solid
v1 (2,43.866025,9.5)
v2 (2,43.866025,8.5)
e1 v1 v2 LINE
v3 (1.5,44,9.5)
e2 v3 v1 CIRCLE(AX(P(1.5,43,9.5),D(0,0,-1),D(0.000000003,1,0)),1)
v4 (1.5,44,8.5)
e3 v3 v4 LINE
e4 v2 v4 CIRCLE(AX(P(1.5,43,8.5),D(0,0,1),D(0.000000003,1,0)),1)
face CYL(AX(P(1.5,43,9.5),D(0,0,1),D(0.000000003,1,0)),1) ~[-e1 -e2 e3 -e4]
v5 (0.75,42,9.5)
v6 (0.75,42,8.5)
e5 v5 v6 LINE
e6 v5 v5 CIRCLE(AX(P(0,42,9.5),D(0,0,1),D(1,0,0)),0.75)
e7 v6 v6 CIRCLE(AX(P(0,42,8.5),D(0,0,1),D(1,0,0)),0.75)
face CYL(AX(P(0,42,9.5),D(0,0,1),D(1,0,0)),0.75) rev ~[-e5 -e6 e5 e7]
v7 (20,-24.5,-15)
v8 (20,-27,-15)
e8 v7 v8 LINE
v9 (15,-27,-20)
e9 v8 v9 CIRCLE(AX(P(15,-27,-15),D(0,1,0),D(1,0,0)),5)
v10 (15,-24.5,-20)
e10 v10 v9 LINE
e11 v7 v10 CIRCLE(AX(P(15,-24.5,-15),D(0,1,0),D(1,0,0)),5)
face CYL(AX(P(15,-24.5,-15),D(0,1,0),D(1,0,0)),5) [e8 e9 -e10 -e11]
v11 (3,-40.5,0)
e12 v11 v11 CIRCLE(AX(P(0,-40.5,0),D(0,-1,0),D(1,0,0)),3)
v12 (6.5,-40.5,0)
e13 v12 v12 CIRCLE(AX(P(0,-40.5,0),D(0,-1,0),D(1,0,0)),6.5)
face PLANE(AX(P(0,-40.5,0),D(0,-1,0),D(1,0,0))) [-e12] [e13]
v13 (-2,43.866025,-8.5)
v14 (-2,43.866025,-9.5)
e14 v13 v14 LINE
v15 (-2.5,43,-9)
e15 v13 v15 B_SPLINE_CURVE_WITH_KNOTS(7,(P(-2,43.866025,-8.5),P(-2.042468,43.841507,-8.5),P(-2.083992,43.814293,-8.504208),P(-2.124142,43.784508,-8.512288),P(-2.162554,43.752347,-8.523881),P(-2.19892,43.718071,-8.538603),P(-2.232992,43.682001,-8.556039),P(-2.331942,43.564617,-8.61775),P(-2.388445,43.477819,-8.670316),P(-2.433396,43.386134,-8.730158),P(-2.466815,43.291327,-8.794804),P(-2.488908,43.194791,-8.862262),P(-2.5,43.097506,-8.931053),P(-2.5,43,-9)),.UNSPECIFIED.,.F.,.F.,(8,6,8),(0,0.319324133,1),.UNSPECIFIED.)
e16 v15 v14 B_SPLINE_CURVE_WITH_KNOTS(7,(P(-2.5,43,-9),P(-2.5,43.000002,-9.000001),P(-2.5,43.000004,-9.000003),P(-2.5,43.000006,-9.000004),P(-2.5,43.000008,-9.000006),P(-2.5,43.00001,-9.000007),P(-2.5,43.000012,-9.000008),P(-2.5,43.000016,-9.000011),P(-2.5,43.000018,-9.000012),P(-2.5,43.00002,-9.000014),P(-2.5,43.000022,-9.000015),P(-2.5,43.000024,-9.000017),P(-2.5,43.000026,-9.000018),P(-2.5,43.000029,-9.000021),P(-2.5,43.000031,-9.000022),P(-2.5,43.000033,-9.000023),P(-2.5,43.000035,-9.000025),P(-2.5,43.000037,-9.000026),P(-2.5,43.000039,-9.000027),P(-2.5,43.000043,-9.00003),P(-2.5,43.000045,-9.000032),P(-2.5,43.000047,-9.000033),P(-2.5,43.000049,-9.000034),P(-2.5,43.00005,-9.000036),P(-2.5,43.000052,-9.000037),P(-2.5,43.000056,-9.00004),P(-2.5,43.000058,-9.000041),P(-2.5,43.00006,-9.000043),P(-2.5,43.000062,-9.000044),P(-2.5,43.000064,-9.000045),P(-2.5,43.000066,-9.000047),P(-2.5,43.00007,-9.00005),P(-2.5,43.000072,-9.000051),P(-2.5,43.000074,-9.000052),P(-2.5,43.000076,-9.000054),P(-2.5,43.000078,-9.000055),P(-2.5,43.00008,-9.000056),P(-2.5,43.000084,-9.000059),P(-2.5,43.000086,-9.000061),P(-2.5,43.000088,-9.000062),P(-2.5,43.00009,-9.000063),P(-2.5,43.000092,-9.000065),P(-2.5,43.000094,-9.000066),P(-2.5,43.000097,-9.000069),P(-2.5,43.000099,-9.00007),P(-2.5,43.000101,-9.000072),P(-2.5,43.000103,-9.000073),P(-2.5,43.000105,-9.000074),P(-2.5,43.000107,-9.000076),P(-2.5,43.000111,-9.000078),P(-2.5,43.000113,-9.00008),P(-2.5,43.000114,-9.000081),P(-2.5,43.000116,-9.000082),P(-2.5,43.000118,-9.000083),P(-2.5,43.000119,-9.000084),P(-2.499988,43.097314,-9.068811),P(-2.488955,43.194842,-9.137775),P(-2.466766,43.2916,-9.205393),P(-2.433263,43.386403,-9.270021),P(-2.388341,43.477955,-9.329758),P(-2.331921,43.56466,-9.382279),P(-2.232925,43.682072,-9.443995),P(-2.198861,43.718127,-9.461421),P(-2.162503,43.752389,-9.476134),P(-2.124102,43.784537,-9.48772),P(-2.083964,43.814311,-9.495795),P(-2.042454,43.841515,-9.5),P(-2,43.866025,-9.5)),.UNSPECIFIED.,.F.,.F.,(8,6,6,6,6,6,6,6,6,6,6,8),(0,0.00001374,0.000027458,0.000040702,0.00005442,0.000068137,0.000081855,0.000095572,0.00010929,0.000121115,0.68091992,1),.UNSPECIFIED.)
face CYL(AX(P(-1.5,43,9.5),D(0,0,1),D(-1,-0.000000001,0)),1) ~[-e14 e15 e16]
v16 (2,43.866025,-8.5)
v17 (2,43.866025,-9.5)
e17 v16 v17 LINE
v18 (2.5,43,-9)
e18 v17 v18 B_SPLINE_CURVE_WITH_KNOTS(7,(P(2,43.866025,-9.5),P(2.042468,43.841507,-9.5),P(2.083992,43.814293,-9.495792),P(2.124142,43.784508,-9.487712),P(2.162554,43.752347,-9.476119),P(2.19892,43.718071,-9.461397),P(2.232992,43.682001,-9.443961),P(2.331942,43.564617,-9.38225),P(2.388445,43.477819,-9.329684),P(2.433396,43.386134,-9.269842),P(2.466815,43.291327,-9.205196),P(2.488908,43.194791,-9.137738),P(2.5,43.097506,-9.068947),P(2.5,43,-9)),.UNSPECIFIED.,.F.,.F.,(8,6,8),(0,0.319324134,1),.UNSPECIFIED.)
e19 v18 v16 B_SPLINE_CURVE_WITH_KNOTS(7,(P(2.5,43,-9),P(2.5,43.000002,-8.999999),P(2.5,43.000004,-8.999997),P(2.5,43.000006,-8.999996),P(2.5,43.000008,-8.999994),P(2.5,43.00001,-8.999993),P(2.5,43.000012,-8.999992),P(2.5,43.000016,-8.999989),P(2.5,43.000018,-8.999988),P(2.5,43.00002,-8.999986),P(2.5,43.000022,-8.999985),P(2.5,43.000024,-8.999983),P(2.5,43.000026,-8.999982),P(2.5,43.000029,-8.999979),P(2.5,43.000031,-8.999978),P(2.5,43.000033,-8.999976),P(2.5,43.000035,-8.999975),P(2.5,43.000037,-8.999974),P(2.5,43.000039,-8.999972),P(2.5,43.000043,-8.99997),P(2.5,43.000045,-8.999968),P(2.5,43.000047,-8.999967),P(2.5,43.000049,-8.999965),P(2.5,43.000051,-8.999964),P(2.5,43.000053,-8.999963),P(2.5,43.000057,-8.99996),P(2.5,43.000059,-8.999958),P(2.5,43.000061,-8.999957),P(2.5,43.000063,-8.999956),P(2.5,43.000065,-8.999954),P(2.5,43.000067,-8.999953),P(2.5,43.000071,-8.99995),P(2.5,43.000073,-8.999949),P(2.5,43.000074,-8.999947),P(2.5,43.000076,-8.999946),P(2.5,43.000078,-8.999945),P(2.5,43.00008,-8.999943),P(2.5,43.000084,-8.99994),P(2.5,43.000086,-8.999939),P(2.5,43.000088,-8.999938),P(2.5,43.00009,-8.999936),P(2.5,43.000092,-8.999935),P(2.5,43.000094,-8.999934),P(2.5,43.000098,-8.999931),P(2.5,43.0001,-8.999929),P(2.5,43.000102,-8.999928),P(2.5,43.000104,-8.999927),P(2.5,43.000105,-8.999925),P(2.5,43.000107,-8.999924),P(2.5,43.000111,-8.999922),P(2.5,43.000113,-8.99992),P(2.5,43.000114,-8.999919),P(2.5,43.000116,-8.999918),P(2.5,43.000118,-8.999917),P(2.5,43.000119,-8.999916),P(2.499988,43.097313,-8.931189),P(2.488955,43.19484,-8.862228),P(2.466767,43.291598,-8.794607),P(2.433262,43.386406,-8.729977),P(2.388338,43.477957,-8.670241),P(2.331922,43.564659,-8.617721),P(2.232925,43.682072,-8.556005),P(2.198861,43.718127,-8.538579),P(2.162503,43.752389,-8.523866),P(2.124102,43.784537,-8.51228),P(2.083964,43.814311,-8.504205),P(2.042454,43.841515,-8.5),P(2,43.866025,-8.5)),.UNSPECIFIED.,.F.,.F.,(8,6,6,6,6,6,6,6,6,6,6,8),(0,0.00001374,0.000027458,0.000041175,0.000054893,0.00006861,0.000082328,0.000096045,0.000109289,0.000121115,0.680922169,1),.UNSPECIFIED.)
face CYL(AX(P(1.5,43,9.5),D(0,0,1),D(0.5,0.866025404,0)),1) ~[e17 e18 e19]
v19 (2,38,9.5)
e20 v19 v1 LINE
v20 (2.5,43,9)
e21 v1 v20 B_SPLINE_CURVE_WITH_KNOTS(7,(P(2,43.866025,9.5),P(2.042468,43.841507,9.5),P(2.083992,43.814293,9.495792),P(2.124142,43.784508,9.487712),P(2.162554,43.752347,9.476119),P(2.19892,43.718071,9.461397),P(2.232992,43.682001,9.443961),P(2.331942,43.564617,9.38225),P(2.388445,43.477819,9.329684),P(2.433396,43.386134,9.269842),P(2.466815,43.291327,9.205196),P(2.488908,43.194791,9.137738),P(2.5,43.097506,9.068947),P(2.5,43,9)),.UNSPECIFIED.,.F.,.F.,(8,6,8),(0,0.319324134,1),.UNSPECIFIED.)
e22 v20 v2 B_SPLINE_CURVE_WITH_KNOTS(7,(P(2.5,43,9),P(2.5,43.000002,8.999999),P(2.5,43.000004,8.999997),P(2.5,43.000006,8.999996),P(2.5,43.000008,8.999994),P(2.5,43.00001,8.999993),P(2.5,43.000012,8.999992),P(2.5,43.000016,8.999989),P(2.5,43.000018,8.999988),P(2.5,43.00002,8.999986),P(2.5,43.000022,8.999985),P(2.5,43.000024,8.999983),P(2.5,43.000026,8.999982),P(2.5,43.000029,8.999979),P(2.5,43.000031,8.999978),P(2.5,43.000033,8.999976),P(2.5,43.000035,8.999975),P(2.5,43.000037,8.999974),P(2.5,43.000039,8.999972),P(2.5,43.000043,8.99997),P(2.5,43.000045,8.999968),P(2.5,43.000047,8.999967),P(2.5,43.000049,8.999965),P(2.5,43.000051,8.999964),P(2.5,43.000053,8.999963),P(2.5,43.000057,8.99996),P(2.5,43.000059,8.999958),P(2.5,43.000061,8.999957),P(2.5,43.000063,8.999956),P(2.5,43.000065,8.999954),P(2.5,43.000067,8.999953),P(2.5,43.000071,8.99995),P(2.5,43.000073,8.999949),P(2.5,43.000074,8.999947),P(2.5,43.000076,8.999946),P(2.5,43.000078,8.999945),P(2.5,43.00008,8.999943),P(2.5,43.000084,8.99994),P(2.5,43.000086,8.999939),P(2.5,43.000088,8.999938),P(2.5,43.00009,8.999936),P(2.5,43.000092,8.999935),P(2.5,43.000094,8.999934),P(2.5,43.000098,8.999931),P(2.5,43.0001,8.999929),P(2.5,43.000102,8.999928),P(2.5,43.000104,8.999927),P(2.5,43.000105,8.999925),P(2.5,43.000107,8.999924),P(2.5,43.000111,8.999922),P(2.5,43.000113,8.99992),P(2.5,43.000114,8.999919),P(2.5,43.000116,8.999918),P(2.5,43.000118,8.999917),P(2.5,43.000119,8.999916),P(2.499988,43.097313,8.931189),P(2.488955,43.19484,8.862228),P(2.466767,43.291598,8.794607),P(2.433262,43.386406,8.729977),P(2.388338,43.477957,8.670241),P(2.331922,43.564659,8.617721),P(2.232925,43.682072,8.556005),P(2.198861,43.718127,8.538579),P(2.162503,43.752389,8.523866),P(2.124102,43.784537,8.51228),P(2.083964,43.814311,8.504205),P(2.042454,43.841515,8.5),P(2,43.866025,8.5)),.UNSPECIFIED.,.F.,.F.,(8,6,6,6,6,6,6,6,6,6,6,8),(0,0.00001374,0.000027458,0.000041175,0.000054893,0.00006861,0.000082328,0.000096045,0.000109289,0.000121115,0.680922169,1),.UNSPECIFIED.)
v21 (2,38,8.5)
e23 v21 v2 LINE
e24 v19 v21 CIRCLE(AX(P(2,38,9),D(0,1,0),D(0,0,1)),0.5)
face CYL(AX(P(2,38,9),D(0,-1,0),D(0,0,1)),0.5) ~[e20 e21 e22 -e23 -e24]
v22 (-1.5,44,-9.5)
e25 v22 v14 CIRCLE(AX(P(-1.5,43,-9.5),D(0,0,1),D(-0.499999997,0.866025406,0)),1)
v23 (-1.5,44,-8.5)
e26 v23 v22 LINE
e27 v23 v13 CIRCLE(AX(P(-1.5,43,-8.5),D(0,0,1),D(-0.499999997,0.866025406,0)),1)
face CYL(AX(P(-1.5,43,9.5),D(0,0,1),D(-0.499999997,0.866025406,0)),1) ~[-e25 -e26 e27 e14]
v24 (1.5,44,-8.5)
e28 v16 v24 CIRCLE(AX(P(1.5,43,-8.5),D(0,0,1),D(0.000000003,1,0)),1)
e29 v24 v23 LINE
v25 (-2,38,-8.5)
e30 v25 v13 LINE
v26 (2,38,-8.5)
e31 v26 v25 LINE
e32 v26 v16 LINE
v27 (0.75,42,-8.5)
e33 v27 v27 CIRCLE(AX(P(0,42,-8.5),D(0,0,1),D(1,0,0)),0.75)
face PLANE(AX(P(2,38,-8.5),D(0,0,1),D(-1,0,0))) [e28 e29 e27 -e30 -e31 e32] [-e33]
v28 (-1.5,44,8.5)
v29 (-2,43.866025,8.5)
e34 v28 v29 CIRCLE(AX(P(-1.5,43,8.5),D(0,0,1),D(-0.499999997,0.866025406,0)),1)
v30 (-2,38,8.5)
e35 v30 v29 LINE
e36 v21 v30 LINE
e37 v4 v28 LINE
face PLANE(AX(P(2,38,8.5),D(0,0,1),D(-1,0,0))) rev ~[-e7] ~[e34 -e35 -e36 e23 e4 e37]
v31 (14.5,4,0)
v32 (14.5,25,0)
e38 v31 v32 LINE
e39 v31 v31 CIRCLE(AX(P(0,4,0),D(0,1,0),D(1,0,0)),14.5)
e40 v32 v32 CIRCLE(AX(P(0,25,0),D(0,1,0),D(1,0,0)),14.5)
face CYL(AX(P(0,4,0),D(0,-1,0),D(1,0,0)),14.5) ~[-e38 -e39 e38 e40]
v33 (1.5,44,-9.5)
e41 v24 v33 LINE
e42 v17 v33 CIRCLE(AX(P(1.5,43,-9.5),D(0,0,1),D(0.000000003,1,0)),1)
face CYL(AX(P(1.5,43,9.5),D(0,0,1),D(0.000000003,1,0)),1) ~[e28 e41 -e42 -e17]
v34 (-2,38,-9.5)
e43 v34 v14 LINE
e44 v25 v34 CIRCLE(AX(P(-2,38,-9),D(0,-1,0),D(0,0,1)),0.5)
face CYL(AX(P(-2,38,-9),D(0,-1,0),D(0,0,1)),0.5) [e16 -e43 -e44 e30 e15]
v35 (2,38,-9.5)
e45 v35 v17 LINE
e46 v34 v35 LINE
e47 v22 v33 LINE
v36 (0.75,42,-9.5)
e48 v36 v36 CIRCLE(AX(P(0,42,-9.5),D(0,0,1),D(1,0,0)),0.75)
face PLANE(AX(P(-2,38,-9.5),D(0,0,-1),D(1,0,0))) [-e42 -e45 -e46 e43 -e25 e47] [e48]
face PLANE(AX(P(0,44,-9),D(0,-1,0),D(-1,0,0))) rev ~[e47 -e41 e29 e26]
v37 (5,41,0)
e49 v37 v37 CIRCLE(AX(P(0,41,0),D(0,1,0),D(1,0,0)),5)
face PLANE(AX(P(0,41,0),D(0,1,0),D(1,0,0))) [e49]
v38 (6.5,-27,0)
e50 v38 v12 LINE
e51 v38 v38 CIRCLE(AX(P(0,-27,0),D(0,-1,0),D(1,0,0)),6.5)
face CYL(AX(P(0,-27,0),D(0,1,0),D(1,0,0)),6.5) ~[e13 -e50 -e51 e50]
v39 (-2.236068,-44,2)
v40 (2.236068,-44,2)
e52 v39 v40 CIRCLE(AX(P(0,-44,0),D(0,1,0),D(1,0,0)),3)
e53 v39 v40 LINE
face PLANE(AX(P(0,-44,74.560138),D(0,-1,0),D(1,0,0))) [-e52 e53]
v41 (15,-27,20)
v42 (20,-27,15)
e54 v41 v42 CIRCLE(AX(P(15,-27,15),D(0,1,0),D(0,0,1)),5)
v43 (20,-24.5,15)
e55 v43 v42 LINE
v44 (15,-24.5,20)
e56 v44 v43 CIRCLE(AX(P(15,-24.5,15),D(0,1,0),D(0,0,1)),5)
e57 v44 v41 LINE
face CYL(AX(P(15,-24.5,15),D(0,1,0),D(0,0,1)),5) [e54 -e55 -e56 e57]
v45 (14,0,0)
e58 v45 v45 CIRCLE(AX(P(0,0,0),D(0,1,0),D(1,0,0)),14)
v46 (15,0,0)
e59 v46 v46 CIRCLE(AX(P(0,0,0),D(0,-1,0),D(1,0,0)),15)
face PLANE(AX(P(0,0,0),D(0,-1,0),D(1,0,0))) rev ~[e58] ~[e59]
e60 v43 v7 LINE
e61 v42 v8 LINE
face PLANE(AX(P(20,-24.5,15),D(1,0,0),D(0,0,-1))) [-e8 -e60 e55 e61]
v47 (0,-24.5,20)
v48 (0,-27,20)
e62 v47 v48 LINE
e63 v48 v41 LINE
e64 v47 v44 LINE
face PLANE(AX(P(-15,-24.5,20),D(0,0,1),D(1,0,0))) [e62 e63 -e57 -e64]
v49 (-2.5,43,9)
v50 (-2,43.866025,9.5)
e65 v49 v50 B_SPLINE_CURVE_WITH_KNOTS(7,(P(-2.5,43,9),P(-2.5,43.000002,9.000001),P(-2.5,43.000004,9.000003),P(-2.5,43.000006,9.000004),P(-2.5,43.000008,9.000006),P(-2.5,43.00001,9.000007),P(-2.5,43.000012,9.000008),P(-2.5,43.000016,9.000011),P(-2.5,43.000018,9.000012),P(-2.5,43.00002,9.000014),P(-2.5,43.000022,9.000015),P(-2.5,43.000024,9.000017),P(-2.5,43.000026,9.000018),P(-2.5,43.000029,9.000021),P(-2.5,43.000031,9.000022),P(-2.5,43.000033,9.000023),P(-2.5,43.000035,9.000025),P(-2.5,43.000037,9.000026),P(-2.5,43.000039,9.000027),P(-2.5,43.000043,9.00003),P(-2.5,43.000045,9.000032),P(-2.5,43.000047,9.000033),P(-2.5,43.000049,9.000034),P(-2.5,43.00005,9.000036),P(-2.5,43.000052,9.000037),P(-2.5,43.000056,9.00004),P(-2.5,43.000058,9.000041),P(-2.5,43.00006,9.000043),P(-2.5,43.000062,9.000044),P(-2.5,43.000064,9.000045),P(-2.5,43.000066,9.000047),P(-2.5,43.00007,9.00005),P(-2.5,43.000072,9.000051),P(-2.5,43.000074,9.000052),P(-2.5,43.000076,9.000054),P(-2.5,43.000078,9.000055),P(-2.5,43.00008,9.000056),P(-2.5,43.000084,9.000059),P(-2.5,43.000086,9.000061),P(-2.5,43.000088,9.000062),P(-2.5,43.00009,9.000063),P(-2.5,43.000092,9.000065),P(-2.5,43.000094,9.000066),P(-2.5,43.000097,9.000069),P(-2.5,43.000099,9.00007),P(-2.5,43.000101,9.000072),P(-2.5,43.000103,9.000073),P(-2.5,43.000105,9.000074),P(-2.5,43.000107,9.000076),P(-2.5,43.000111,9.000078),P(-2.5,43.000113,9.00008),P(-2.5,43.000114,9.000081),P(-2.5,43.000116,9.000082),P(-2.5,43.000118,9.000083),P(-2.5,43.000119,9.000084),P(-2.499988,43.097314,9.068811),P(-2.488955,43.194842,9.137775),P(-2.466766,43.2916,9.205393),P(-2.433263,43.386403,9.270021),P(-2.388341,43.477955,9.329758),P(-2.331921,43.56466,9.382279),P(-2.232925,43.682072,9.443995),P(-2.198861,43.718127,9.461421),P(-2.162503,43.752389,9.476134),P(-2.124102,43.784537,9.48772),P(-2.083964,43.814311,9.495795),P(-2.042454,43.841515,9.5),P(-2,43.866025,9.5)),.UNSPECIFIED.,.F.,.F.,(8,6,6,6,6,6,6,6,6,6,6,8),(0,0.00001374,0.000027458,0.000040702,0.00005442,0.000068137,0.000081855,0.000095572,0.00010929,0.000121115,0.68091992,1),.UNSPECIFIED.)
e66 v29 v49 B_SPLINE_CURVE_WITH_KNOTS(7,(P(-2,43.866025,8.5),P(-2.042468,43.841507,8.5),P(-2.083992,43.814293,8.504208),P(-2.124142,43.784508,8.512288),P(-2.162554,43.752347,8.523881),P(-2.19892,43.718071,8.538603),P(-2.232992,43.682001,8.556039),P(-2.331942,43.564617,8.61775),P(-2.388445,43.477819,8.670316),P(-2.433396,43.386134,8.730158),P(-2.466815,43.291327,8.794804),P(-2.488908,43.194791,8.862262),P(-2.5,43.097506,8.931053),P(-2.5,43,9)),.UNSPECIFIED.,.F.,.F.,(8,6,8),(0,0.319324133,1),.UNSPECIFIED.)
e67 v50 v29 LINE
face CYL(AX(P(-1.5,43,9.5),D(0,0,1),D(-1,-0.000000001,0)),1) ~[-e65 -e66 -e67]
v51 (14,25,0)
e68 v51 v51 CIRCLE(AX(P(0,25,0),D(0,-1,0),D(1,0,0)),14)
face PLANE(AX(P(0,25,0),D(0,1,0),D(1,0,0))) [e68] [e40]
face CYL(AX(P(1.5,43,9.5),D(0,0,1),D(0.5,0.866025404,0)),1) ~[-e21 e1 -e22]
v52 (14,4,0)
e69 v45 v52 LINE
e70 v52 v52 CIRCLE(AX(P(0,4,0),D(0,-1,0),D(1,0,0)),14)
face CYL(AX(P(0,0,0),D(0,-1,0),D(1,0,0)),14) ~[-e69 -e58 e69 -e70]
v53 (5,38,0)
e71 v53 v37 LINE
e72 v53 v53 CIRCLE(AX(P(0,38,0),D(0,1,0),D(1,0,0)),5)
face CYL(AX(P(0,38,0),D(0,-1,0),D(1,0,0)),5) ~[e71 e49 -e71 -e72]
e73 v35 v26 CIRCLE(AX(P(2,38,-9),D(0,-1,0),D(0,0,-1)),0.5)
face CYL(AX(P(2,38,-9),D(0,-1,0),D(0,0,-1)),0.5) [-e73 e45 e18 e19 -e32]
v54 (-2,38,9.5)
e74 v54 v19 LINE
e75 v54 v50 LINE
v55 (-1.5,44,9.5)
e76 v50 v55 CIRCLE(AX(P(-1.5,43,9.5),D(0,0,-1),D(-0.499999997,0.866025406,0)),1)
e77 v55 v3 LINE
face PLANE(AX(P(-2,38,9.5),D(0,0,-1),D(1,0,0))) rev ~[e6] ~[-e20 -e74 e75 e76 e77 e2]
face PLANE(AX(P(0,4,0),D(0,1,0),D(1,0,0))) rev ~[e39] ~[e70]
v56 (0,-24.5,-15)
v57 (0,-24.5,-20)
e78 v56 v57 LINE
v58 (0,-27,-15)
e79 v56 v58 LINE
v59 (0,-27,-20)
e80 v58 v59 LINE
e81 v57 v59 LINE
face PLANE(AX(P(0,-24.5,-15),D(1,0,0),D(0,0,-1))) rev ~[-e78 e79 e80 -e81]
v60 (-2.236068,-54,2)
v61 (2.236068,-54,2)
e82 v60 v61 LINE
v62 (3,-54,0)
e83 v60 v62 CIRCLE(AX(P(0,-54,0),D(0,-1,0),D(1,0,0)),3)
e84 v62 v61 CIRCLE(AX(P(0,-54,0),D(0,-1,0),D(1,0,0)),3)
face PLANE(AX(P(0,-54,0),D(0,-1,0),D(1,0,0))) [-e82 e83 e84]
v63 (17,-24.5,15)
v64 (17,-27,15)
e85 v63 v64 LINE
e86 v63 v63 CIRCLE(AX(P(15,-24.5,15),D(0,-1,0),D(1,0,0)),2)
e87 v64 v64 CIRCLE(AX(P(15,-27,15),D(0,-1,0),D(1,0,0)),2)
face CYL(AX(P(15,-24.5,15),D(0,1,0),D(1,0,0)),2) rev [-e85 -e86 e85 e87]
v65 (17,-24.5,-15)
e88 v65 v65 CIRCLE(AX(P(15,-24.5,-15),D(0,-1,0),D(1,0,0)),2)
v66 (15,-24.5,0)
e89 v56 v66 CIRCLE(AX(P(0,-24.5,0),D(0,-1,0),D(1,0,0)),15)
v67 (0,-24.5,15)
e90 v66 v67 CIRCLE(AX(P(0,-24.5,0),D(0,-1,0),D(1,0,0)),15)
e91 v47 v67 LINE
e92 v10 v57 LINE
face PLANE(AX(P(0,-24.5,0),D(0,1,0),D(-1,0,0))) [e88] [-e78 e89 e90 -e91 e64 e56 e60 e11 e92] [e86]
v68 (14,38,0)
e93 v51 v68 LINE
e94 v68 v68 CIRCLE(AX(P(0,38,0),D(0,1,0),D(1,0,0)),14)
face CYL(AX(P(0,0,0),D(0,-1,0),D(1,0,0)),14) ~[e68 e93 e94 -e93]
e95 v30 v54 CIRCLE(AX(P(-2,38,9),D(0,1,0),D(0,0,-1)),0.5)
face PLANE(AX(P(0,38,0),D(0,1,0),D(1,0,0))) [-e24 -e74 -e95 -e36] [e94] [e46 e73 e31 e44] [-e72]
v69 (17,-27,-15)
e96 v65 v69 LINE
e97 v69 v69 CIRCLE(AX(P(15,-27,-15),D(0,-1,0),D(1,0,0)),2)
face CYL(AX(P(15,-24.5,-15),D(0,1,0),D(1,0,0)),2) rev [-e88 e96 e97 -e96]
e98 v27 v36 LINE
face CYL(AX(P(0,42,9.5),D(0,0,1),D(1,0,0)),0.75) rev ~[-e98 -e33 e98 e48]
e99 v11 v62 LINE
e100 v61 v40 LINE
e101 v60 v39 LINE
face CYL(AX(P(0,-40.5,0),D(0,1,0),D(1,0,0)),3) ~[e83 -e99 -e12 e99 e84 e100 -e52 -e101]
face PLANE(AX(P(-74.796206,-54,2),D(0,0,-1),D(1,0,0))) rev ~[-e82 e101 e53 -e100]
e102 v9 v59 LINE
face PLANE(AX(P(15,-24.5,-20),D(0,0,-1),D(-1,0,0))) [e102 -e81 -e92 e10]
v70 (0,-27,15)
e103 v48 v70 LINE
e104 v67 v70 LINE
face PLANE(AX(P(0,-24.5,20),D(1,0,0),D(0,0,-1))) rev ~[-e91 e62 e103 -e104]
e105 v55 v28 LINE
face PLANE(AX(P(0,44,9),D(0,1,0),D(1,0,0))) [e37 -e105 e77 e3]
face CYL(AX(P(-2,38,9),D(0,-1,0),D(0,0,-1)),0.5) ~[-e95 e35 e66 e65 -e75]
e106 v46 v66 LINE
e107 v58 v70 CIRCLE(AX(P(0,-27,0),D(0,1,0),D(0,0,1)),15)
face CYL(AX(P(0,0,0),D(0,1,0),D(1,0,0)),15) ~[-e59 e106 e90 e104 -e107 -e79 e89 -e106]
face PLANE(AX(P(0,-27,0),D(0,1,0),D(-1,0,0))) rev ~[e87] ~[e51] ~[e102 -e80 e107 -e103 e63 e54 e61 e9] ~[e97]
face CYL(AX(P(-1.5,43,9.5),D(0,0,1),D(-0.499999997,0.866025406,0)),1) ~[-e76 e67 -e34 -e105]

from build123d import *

# Parameters (mm, degrees)
CROQUIS1_R               = 14
MOTOR_DEPTH              = 38
CROQUIS2_R               = 5
SALIENTE_POSTERIOR_DEPTH = 3
BORNES_DEPTH             = 6
CROQUIS4_R               = 0.75
AGUJERO_BORNES_DEPTH     = 24.5
CROQUIS5_R               = 15
CAJA_REDUCTORA_DEPTH     = 24.5
CROQUIS6_R               = 2
BRIDA_DEPTH              = 2.5
CROQUIS7_R               = 6.5
SALIENTE_EJE_DEPTH       = 13.5
CROQUIS8_R               = 3
EJE_DEPTH                = 13.5
CORTE_PLANO_EJE_DEPTH    = 10
CROQUIS10_R              = 2
CORTE_BRIDA_DEPTH        = 10
SALIENTE_EXTRUIR1_START  = 4
CROQUIS11_R              = 14.5
SALIENTE_EXTRUIR1_DEPTH  = 21


with BuildPart() as part:
    # Croquis1 → Motor (new body)
    with BuildSketch(Plane(origin=(0, 0, 0), x_dir=(1, 0, 0), z_dir=(0, 1, 0))):
        Circle(CROQUIS1_R)
    extrude(amount=MOTOR_DEPTH)

    # Croquis2 → Saliente posterior (add)
    with BuildSketch(Plane(origin=(0, 38, 0), x_dir=(1, 0, 0), z_dir=(0, 1, 0))):
        Circle(CROQUIS2_R)
    extrude(amount=SALIENTE_POSTERIOR_DEPTH)

    # Croquis3 → Bornes (add)
    with BuildSketch(Plane(origin=(0, 38, 0), x_dir=(1, 0, 0), z_dir=(0, 1, 0))):
        with BuildLine():
            Line((-2, 9.5), (2, 9.5))
            ThreePointArc((2, 9.5), (2.5, 9), (2, 8.5))
            Line((2, 8.5), (-2, 8.5))
            ThreePointArc((-2, 8.5), (-2.5, 9), (-2, 9.5))
        make_face()
        with BuildLine():
            Line((-2, -9.5), (2, -9.5))
            ThreePointArc((2, -9.5), (2.5, -9), (2, -8.5))
            Line((2, -8.5), (-2, -8.5))
            ThreePointArc((-2, -8.5), (-2.5, -9), (-2, -9.5))
        make_face()
    extrude(amount=BORNES_DEPTH)

    # Croquis4 → Agujero Bornes (cut, through all)
    with BuildSketch(Plane.XY.offset(9.5)):
        with Locations((0, 42)):
            Circle(CROQUIS4_R)
        with BuildLine():
            ThreePointArc((2, 43.866025404), (2.366025404, 43.5), (2.5, 43))
            Line((2.5, 43), (2.5, 44))
            Line((2.5, 44), (2, 44))
            Line((2, 44), (2, 43.866025404))
        make_face()
        with BuildLine():
            ThreePointArc((1.5, 44), (1.758819045, 43.965925826), (2, 43.866025404))
            Line((2, 43.866025404), (2, 44))
            Line((2, 44), (1.5, 44))
        make_face()
        with BuildLine():
            Line((-2, 43.866025404), (-2, 44))
            Line((-2, 44), (-2.5, 44))
            Line((-2.5, 44), (-2.5, 43))
            ThreePointArc((-2.5, 43), (-2.366025404, 43.5), (-2, 43.866025404))
        make_face()
        with BuildLine():
            ThreePointArc((-2, 43.866025404), (-1.758819045, 43.965925826), (-1.5, 44))
            Line((-1.5, 44), (-2, 44))
            Line((-2, 44), (-2, 43.866025404))
        make_face()
    extrude(amount=-AGUJERO_BORNES_DEPTH, mode=Mode.SUBTRACT)

    # Croquis5 → Caja reductora (add)
    with BuildSketch(Plane.XZ):
        Circle(CROQUIS5_R)
    extrude(amount=CAJA_REDUCTORA_DEPTH)

    # Croquis6 → Brida (add)
    with BuildSketch(Plane.XZ.offset(24.5)):
        with BuildLine():
            Line((-15, 20), (15, 20))
            ThreePointArc((15, 20), (18.535533906, 18.535533906), (20, 15))
            Line((20, 15), (20, -15))
            ThreePointArc((20, -15), (18.535533906, -18.535533906), (15, -20))
            Line((15, -20), (-15, -20))
            ThreePointArc((-15, -20), (-18.535533906, -18.535533906), (-20, -15))
            Line((-20, -15), (-20, 15))
            ThreePointArc((-20, 15), (-18.535533906, 18.535533906), (-15, 20))
        make_face()
        with Locations((-15, 15)):
            Circle(CROQUIS6_R, mode=Mode.SUBTRACT)
        with Locations((15, 15)):
            Circle(CROQUIS6_R, mode=Mode.SUBTRACT)
        with Locations((15, -15)):
            Circle(CROQUIS6_R, mode=Mode.SUBTRACT)
        with Locations((-15, -15)):
            Circle(CROQUIS6_R, mode=Mode.SUBTRACT)
    extrude(amount=BRIDA_DEPTH)

    # Croquis7 → Saliente eje (add)
    with BuildSketch(Plane.XZ.offset(27)):
        Circle(CROQUIS7_R)
    extrude(amount=SALIENTE_EJE_DEPTH)

    # Croquis8 → Eje (add)
    with BuildSketch(Plane.XZ.offset(40.5)):
        Circle(CROQUIS8_R)
    extrude(amount=EJE_DEPTH)

    # Croquis9 → Corte Plano eje (cut)
    with BuildSketch(Plane.XZ.offset(54)):
        Polygon((-74.796206056, 2), (-2.236067977, 2), (2.236067977, 2), (74.796206056, 2), (74.796206056, 147.120276157), (-74.796206056, 147.120276157), align=None)
    extrude(amount=-CORTE_PLANO_EJE_DEPTH, mode=Mode.SUBTRACT)

    # Croquis10 → Corte Brida (cut)
    with BuildSketch(Plane(origin=(0, -24.5, 0), x_dir=(1, 0, 0), z_dir=(0, 1, 0))):
        with BuildLine():
            Line((0, 15), (0, 20))
            Line((0, 20), (-15, 20))
            ThreePointArc((-15, 20), (-18.535533906, 18.535533906), (-20, 15))
            Line((-20, 15), (-20, -15))
            ThreePointArc((-20, -15), (-18.535533906, -18.535533906), (-15, -20))
            Line((-15, -20), (0, -20))
            Line((0, -20), (0, -15))
            ThreePointArc((0, -15), (-15, 0), (0, 15))
        make_face()
        with Locations((-15, -15)):
            Circle(CROQUIS10_R, mode=Mode.SUBTRACT)
        with Locations((-15, 15)):
            Circle(CROQUIS10_R, mode=Mode.SUBTRACT)
    extrude(amount=-CORTE_BRIDA_DEPTH, mode=Mode.SUBTRACT)

    # Croquis11 → Saliente-Extruir1 (add)
    with BuildSketch(Plane(origin=(0, 0, 0), x_dir=(1, 0, 0), z_dir=(0, 1, 0)).offset(SALIENTE_EXTRUIR1_START)):
        Circle(CROQUIS11_R)
    extrude(amount=SALIENTE_EXTRUIR1_DEPTH)


solid = part.part
